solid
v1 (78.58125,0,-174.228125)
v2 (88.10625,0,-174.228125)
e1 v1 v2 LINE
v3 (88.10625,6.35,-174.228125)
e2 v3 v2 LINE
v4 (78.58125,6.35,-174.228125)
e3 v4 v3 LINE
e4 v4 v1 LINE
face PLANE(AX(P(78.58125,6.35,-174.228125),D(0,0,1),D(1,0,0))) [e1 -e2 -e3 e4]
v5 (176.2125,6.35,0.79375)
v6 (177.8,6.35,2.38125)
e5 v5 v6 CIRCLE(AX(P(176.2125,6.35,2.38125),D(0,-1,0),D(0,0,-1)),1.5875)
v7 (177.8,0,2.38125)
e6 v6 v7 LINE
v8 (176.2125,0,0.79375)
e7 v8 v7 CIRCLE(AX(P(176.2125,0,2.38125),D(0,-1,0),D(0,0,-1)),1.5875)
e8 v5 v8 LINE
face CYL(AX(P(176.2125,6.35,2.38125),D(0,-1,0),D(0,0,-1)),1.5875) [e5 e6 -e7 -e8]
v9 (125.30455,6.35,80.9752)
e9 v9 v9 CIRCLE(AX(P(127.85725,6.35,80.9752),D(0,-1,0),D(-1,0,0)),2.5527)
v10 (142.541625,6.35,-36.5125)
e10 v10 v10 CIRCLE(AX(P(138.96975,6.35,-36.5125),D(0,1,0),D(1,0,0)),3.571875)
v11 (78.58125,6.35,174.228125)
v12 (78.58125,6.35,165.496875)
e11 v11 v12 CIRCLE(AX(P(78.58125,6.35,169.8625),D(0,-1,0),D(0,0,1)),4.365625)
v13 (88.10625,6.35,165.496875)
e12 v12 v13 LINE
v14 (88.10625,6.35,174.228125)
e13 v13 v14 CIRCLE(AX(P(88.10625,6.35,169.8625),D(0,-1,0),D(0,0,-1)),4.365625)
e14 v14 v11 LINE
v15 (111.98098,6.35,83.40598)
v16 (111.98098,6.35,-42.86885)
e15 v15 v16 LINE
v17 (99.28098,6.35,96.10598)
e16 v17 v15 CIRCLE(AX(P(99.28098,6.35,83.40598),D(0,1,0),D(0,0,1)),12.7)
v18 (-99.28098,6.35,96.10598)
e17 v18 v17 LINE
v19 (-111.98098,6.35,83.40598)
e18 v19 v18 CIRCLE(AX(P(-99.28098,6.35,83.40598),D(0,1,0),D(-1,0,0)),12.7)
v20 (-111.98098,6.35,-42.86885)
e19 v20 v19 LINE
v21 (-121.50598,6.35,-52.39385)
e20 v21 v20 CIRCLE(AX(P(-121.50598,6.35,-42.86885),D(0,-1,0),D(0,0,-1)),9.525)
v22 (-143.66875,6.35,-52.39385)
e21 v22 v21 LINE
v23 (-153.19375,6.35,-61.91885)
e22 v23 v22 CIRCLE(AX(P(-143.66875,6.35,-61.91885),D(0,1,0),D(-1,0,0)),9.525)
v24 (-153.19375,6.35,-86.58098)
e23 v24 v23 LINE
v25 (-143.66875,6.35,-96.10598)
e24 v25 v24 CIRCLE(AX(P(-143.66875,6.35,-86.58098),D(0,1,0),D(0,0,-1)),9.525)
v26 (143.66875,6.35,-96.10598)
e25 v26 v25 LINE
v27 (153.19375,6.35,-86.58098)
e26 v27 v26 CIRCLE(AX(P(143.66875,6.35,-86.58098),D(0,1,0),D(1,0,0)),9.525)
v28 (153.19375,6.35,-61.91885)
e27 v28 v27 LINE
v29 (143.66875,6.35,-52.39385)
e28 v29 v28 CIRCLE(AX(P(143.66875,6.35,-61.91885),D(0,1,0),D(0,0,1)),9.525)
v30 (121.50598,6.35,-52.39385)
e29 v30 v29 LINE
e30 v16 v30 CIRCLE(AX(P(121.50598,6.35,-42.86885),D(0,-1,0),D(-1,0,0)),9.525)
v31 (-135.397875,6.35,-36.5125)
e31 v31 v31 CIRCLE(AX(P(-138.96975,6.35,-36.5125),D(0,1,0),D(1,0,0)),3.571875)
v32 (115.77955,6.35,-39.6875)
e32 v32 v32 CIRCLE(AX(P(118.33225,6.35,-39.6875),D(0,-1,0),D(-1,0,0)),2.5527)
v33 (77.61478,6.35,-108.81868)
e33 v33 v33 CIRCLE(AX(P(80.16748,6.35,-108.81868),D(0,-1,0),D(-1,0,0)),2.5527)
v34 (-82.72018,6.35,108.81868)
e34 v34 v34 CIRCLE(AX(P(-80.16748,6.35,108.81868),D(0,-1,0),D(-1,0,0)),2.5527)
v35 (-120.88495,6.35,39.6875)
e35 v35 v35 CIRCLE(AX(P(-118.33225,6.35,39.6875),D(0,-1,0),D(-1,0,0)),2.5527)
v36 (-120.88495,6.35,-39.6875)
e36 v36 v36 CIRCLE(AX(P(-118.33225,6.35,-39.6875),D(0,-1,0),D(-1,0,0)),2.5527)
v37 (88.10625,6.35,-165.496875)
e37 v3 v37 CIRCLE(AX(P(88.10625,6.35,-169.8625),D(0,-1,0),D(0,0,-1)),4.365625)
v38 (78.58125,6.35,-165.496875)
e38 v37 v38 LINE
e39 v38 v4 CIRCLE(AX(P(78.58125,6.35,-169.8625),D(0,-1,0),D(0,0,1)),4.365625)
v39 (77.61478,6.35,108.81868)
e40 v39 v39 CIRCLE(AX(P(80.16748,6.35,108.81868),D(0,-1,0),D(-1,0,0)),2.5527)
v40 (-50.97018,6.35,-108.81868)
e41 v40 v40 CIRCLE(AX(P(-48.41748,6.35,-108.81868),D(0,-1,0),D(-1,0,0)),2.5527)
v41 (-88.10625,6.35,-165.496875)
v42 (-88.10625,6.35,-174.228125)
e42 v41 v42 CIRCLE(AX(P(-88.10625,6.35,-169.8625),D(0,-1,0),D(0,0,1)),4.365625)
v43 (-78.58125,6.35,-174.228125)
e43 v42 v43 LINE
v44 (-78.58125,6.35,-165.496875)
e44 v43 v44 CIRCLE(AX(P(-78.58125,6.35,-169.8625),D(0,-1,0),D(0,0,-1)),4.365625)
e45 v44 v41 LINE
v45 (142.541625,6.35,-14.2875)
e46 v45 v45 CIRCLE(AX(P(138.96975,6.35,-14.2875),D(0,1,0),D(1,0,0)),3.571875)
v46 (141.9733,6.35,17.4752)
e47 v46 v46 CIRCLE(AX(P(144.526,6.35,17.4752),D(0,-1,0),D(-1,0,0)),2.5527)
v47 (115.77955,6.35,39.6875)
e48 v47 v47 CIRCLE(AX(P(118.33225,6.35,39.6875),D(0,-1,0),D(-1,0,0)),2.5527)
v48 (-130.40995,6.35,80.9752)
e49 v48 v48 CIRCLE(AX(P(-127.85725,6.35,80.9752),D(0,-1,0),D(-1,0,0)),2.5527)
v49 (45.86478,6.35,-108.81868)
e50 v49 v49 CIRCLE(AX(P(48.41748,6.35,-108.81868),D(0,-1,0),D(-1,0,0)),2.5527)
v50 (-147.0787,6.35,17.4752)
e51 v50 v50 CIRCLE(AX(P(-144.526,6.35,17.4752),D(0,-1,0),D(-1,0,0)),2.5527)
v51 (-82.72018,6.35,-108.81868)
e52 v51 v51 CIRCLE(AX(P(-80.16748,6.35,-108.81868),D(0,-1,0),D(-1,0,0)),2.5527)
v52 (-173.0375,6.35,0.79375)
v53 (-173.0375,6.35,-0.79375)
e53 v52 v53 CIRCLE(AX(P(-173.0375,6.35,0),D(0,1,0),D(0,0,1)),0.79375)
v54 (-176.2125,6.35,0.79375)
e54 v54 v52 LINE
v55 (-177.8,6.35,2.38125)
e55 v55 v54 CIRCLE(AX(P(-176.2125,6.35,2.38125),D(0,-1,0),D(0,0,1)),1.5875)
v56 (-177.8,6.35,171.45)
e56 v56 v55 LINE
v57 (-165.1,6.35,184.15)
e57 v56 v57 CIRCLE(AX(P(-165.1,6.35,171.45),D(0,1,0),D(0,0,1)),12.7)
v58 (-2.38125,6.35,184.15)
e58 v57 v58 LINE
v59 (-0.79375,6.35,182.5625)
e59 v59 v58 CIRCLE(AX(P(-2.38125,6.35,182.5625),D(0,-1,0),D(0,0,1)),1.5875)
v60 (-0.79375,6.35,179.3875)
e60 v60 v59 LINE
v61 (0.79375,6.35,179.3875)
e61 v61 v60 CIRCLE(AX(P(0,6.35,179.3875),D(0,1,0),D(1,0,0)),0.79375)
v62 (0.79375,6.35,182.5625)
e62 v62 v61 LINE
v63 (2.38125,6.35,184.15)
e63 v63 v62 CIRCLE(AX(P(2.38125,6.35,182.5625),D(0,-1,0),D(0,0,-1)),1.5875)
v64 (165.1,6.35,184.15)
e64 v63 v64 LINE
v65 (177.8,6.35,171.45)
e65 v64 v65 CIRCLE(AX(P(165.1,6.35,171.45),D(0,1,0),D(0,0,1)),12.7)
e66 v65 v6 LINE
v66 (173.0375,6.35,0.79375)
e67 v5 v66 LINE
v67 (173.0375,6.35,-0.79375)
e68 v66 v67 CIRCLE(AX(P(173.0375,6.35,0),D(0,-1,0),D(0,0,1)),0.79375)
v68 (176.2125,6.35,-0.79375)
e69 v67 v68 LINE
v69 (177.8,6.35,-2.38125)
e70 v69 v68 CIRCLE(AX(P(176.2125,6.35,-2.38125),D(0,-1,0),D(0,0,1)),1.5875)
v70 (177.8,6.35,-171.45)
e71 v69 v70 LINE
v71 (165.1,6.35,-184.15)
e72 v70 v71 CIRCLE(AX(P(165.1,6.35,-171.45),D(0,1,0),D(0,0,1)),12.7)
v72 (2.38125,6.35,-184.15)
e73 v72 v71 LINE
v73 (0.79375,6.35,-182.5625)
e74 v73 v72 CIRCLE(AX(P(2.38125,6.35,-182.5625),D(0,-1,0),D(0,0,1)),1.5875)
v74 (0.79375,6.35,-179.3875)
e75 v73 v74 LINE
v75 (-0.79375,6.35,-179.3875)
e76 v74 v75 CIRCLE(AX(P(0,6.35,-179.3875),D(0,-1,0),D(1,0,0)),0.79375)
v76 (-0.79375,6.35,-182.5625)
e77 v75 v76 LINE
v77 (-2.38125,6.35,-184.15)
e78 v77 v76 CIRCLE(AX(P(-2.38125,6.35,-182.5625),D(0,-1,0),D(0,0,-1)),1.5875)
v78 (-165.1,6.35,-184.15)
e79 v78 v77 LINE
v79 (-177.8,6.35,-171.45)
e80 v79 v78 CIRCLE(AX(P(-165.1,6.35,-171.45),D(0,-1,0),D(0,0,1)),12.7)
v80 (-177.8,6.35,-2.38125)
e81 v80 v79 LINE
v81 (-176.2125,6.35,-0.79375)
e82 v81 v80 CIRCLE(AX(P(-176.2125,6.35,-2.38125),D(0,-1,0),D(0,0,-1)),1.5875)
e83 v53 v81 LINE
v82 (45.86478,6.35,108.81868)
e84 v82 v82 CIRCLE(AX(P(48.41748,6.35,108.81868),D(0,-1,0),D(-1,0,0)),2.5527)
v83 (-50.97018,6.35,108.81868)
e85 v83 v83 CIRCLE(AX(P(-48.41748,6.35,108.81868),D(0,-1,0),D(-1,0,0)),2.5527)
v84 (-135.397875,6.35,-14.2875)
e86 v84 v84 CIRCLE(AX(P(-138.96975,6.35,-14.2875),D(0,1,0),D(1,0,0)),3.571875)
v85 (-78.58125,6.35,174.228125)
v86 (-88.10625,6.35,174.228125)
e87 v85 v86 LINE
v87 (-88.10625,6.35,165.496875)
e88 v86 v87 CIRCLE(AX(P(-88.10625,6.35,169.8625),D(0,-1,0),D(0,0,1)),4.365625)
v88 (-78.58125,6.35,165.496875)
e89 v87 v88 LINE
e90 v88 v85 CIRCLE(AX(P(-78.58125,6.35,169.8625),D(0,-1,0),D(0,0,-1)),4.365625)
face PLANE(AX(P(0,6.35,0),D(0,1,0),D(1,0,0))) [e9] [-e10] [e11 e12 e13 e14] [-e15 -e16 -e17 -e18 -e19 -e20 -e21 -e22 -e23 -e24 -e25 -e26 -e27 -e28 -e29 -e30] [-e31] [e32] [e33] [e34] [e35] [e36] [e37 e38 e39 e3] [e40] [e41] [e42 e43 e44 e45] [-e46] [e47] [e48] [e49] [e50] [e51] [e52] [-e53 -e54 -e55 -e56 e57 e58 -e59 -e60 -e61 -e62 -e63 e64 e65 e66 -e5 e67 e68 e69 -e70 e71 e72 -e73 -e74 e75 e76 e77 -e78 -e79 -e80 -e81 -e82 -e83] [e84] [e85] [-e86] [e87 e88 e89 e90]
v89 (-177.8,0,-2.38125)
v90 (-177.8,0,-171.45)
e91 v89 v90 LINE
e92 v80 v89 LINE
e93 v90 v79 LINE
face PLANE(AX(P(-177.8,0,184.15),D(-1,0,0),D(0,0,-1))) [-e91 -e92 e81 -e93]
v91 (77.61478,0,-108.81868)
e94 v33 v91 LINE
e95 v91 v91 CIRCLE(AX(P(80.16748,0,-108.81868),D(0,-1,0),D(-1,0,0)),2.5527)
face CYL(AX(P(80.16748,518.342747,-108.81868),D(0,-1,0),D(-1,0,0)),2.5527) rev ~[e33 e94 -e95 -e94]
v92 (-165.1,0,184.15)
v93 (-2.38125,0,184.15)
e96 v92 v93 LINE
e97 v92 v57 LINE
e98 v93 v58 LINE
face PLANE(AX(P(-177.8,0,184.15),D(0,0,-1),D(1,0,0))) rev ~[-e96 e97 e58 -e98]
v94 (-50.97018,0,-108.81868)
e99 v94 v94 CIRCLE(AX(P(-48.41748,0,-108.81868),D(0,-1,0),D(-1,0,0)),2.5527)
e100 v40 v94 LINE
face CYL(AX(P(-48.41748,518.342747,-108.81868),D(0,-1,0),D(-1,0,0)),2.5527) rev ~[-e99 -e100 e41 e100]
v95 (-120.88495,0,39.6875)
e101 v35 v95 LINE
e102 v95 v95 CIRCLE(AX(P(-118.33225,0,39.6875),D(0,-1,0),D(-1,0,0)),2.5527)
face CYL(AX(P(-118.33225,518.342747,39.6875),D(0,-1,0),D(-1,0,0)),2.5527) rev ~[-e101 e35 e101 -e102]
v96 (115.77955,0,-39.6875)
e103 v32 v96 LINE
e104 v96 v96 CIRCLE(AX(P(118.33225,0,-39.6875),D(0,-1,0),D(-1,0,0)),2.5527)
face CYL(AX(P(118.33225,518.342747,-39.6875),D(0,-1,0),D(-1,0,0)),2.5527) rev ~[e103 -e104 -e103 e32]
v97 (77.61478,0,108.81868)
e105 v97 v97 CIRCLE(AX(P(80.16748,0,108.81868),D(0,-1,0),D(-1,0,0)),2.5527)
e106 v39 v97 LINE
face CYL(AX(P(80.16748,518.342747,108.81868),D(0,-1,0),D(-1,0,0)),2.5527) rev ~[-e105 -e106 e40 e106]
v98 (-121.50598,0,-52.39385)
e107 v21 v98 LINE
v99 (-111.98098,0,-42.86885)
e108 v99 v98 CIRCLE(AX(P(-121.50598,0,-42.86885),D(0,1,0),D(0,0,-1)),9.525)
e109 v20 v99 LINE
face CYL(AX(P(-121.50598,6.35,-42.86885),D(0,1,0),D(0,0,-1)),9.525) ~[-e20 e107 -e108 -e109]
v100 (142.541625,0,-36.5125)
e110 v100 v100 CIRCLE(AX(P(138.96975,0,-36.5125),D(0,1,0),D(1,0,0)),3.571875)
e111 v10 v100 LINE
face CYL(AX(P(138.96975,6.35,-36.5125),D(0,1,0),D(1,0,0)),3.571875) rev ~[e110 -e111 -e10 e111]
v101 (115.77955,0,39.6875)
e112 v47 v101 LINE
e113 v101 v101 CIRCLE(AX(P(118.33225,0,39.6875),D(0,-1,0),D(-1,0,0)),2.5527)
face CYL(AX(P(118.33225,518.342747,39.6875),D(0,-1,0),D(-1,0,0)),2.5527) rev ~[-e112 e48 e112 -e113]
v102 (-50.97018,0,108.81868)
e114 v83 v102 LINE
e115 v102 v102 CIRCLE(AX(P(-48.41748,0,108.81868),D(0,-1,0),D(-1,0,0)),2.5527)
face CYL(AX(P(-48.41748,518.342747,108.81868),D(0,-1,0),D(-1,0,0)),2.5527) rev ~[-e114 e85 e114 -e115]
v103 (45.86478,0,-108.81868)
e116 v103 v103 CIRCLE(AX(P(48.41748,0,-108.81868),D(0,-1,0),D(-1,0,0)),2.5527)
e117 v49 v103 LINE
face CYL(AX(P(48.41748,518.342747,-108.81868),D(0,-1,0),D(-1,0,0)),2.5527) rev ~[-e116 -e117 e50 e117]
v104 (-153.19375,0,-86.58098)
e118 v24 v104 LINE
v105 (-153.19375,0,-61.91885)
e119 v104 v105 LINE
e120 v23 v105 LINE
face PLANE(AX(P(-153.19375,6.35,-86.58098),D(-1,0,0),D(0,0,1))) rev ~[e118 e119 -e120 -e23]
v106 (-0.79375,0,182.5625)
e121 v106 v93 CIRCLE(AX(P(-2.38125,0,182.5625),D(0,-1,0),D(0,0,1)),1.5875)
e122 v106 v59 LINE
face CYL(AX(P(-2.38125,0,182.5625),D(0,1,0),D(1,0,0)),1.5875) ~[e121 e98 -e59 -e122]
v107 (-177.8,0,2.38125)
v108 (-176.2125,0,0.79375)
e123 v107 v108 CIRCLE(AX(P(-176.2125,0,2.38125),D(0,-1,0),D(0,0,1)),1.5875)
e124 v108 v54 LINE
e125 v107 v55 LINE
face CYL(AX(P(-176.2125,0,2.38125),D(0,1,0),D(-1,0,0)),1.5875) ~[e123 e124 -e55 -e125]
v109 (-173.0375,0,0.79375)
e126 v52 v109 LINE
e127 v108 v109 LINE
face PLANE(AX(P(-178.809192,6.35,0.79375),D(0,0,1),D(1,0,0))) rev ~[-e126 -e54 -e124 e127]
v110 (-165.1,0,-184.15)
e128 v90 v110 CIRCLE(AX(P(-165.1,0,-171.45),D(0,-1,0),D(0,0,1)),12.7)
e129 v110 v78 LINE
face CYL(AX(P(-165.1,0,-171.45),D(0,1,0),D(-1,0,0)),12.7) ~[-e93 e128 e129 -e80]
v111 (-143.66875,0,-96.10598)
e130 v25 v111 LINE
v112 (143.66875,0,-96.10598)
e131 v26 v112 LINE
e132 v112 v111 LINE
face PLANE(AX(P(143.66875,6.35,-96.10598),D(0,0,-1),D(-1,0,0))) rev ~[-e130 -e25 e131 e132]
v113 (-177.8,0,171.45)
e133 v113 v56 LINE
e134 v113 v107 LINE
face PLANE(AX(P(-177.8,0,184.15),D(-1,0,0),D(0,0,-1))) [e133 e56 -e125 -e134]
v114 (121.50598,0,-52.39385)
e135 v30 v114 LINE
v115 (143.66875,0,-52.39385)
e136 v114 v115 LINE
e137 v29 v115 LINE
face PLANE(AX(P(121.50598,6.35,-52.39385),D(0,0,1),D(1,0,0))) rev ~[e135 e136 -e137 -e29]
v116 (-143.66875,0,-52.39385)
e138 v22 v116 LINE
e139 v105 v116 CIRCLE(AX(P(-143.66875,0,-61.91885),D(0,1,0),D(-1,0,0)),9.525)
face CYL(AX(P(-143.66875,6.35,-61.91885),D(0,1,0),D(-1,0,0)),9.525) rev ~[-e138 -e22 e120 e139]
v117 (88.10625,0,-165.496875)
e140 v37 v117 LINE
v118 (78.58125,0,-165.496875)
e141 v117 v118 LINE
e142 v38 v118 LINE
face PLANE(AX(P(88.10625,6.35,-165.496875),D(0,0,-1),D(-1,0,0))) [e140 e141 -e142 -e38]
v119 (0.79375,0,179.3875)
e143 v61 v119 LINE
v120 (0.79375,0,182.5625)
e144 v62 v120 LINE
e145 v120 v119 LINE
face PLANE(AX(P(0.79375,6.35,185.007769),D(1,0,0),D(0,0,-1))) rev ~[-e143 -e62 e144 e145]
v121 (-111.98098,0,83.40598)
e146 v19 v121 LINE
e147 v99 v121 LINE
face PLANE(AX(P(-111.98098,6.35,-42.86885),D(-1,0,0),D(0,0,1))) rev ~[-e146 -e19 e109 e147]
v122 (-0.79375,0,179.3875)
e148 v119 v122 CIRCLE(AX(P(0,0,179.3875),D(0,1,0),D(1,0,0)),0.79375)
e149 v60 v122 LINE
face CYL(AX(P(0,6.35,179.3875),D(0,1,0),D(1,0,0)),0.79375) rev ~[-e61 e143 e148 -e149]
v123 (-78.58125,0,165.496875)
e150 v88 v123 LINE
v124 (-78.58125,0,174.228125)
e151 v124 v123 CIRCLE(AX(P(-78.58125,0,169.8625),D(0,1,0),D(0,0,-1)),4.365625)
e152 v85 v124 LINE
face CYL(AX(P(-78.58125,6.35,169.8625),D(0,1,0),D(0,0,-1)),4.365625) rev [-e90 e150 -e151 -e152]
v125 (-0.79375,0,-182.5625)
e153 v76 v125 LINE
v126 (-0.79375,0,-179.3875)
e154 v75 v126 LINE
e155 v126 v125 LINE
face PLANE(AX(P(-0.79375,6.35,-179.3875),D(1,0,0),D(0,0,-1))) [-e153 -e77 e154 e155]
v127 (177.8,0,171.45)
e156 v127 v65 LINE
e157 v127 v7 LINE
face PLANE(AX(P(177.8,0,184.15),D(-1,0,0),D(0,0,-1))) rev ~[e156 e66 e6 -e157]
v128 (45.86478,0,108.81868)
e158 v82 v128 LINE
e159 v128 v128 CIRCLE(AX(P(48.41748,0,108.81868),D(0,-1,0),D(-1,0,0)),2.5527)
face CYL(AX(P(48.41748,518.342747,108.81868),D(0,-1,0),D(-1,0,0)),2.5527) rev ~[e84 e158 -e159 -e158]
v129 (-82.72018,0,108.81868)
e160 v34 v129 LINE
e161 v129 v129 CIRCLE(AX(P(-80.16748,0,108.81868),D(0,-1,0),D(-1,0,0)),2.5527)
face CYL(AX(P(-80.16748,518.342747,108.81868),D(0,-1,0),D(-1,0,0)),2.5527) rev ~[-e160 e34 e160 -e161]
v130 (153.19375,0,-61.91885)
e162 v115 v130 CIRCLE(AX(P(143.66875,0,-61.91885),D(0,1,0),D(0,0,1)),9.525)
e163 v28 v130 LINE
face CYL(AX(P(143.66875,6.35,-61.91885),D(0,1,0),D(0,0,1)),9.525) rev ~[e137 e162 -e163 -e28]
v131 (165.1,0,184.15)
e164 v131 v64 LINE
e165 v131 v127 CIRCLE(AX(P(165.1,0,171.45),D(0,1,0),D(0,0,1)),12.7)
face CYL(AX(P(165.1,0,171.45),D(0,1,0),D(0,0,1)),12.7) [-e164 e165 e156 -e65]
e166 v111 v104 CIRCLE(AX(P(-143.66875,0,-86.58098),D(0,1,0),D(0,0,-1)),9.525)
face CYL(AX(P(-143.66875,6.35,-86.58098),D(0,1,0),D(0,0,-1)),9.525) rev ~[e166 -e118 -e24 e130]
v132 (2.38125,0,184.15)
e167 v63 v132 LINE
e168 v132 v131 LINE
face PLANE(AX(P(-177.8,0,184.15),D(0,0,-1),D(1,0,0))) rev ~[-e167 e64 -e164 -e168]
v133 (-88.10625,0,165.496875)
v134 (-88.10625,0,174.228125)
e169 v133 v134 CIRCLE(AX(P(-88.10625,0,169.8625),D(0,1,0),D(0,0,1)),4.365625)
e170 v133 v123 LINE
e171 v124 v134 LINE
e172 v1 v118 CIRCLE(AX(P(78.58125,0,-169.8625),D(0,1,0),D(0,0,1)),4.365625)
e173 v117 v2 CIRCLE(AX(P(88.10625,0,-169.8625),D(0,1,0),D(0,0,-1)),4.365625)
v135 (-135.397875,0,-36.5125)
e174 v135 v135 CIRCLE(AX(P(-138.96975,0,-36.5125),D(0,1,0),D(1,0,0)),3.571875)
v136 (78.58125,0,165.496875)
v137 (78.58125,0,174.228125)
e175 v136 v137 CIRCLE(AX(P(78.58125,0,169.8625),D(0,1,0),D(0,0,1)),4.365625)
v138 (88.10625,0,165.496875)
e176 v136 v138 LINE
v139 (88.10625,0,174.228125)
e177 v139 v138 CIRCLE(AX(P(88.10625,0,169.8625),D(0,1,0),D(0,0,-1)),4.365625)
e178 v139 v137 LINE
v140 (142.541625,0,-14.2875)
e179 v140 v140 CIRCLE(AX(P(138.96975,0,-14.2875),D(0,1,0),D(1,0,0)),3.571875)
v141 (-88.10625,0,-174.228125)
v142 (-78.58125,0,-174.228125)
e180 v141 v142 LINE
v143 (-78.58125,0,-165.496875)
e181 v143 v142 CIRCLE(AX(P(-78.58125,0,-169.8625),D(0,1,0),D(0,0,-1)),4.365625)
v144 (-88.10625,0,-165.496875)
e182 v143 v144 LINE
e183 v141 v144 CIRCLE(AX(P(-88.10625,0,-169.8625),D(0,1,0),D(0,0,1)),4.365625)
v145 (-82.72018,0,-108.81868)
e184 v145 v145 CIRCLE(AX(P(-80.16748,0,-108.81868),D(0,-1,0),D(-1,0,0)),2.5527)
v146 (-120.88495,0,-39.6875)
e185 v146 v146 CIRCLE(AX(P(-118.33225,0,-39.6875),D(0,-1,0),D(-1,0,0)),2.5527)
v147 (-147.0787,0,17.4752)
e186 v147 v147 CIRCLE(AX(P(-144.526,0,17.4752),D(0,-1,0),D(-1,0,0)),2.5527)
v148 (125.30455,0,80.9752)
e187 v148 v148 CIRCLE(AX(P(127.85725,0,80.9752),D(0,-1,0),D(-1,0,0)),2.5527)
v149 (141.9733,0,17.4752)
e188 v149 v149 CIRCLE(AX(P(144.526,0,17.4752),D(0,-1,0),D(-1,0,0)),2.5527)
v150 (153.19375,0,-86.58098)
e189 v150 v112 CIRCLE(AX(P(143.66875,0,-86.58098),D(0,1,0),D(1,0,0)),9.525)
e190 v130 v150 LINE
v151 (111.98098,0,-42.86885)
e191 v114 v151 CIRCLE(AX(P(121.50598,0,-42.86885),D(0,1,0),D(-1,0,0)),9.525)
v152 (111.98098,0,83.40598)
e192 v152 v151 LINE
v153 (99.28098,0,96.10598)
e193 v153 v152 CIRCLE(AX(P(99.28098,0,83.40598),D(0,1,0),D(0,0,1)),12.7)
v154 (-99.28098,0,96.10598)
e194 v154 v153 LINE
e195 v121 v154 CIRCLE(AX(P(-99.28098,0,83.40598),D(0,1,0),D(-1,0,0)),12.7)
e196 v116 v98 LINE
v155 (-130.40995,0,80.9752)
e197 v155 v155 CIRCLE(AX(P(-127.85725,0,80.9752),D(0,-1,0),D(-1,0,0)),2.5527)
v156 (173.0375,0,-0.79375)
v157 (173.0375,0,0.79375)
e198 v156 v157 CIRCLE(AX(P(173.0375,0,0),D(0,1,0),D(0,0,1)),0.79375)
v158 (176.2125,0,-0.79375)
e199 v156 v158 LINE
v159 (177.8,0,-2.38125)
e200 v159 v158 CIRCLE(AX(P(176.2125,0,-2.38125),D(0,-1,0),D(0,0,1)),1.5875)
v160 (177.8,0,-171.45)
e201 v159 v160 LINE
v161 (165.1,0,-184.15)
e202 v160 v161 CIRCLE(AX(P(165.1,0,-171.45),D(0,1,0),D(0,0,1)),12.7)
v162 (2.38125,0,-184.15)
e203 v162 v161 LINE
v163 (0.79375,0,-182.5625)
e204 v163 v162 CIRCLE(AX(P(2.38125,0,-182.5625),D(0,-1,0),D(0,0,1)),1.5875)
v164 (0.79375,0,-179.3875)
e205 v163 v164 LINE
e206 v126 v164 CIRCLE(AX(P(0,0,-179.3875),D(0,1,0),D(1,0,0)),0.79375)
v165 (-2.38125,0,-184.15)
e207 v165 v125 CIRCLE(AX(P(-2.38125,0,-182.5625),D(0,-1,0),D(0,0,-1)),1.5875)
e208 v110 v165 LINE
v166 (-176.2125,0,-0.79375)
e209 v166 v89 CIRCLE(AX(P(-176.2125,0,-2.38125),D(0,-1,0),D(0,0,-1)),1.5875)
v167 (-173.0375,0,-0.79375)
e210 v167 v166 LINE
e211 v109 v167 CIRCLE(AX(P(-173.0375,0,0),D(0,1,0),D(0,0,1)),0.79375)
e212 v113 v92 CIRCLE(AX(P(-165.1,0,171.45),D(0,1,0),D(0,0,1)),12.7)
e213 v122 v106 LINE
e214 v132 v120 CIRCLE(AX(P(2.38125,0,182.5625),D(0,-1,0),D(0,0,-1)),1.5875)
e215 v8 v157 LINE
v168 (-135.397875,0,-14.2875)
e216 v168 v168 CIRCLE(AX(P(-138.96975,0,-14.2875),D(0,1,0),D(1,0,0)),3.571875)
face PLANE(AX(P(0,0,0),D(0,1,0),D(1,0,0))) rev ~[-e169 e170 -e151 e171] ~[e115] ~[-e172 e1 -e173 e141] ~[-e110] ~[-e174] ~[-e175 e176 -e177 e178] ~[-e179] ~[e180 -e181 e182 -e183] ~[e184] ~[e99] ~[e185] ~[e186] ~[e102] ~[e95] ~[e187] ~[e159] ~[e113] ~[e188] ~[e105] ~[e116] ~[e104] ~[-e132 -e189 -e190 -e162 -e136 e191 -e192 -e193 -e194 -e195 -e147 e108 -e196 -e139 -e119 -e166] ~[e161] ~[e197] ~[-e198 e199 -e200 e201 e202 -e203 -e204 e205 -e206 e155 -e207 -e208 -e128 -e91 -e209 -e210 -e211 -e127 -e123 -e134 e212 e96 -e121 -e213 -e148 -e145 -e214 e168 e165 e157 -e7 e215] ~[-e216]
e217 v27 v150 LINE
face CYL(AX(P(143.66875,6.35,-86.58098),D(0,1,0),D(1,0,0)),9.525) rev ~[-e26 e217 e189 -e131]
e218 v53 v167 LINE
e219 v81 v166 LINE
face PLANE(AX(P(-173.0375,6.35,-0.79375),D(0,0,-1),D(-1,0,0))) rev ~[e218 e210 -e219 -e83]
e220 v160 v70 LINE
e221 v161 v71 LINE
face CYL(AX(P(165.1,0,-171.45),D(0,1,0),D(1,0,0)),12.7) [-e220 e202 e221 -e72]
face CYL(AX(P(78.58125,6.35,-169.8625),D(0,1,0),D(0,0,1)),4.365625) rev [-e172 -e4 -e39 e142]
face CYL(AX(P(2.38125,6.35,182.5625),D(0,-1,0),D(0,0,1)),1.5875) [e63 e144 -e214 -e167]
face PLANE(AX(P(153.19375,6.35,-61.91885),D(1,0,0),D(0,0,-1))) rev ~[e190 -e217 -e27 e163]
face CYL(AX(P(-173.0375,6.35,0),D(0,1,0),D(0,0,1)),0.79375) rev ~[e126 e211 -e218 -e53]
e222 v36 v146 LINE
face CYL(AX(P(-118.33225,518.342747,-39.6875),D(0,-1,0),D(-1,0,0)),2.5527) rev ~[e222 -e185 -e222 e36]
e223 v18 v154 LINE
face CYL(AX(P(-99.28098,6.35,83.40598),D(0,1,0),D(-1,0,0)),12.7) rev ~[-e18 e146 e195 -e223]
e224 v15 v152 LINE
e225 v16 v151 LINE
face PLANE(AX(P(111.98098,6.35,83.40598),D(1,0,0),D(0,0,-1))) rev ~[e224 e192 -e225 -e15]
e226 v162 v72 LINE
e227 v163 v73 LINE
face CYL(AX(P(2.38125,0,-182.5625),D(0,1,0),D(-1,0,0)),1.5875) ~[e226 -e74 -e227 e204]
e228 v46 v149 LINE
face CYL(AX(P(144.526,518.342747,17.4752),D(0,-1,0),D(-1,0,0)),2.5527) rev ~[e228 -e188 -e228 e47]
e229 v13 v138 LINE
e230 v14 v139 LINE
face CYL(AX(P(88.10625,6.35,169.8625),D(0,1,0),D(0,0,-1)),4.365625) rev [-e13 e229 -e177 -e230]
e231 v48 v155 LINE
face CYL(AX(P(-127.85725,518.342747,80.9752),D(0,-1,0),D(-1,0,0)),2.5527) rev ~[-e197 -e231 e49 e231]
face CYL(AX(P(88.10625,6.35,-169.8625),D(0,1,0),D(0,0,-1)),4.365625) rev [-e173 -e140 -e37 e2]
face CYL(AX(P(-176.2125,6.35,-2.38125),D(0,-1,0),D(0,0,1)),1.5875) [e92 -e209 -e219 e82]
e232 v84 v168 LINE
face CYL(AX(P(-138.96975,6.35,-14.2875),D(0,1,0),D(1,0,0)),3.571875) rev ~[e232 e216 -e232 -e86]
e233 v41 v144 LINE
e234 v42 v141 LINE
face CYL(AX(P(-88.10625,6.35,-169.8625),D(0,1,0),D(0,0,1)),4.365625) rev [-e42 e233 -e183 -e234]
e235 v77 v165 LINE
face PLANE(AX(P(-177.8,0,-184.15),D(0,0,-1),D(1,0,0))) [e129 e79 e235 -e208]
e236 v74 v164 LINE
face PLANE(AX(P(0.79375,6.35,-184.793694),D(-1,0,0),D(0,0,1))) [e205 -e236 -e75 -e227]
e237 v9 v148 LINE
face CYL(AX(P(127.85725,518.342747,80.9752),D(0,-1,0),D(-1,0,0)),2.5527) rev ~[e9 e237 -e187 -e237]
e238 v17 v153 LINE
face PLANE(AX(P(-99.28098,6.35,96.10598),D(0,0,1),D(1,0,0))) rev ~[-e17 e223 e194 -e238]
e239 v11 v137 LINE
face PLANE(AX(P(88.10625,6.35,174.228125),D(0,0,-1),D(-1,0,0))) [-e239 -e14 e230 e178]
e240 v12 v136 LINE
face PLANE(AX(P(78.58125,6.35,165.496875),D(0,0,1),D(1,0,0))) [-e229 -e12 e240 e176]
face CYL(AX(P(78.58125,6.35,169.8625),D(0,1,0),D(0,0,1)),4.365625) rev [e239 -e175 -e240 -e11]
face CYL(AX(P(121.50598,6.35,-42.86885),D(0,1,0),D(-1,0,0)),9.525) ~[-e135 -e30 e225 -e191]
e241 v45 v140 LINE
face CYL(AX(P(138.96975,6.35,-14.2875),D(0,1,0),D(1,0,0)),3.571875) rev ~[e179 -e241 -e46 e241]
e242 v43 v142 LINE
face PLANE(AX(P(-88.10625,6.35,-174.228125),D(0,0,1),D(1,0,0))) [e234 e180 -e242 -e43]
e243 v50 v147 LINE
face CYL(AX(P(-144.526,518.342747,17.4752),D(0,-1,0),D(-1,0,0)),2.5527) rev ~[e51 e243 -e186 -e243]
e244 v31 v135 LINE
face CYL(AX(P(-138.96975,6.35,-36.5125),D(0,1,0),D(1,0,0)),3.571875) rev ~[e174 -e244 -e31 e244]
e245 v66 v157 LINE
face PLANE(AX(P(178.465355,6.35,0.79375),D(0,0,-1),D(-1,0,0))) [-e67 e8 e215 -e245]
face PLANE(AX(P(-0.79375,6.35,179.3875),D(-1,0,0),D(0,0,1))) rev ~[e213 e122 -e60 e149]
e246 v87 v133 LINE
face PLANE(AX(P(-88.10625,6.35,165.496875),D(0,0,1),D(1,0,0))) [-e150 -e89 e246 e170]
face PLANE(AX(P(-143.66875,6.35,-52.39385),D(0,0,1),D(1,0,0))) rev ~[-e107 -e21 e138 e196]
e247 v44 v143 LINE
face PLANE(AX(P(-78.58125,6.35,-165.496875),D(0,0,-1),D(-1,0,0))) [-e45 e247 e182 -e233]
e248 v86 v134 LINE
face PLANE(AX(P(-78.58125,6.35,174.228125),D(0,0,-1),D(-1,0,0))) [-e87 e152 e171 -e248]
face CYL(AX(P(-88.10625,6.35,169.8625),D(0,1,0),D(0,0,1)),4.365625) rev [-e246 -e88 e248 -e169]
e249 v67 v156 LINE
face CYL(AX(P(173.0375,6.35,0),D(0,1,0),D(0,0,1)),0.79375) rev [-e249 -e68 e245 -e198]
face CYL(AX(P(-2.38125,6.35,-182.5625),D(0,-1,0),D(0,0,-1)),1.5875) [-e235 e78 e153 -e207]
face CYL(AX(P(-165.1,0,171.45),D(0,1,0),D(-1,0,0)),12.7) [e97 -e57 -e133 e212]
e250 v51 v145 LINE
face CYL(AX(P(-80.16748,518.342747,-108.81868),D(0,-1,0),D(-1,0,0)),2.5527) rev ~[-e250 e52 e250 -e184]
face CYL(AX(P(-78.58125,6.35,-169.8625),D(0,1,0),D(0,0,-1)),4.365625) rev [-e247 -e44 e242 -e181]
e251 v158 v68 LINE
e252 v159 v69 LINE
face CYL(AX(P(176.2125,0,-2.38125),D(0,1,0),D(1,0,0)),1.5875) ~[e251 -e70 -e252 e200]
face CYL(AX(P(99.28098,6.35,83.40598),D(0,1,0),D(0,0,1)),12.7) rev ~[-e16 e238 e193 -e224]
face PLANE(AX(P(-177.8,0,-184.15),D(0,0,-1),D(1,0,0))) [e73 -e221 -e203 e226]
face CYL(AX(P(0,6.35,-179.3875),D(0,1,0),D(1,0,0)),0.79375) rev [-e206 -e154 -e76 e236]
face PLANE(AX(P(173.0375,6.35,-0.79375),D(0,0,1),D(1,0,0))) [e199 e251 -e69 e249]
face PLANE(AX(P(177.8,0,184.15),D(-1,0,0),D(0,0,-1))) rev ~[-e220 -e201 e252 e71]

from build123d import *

# Parameters (mm, degrees)
SKETCH2_W               = 355.6
SKETCH2_H               = 368.3
BOSS_EXTRUDE1_DEPTH     = 6.35
FILLET1_R               = 12.7
MOUNTING_HOLES_DEPTH    = 7.35
PLUNGER_CUTOUT_DEPTH    = 7.35
F_1_4_20_TAPPED_HOLE2_D = 5.1054
CENTERING_MARKERS_DEPTH = 7.35
FILLET2_R               = 1.5875
F_1_4_20_TAPPED_HOLE5_D = 5.1054
SKETCH17_R              = 3.571875
CUT_EXTRUDE1_DEPTH      = 7.35


with BuildPart() as part:
    # Sketch2 → Boss-Extrude1 (new body)
    with BuildSketch(Plane(origin=(0, 0, 0), x_dir=(1, 0, 0), z_dir=(0, 1, 0))):
        Rectangle(SKETCH2_W, SKETCH2_H)
    extrude(amount=BOSS_EXTRUDE1_DEPTH)

    # Fillet1
    fillet1_edges = [part.edges().sort_by_distance(p)[0] for p in [
        (177.8, 3.175, 184.15),
        (-177.8, 3.175, 184.15),
        (-177.8, 3.175, -184.15),
        (177.8, 3.175, -184.15),
    ]]
    fillet(fillet1_edges, radius=FILLET1_R)

    # Sketch3 → MOUNTING HOLES (cut, through all)
    with BuildSketch(Plane(origin=(0, 6.35, 0), x_dir=(1, 0, 0), z_dir=(0, 1, 0))):
        with BuildLine():
            Line((-88.10625, 174.228125), (-78.58125, 174.228125))
            ThreePointArc((-78.58125, 174.228125), (-74.215625, 169.8625), (-78.58125, 165.496875))
            Line((-78.58125, 165.496875), (-88.10625, 165.496875))
            ThreePointArc((-88.10625, 165.496875), (-92.471875, 169.8625), (-88.10625, 174.228125))
        make_face()
        with BuildLine():
            Line((88.10625, 165.496875), (78.58125, 165.496875))
            ThreePointArc((78.58125, 165.496875), (74.215625, 169.8625), (78.58125, 174.228125))
            Line((78.58125, 174.228125), (88.10625, 174.228125))
            ThreePointArc((88.10625, 174.228125), (92.471875, 169.8625), (88.10625, 165.496875))
        make_face()
        with BuildLine():
            Line((-88.10625, -165.496875), (-78.58125, -165.496875))
            ThreePointArc((-78.58125, -165.496875), (-74.215625, -169.8625), (-78.58125, -174.228125))
            Line((-78.58125, -174.228125), (-88.10625, -174.228125))
            ThreePointArc((-88.10625, -174.228125), (-92.471875, -169.8625), (-88.10625, -165.496875))
        make_face()
        with BuildLine():
            Line((78.58125, -165.496875), (88.10625, -165.496875))
            ThreePointArc((88.10625, -165.496875), (92.471875, -169.8625), (88.10625, -174.228125))
            Line((88.10625, -174.228125), (78.58125, -174.228125))
            ThreePointArc((78.58125, -174.228125), (74.215625, -169.8625), (78.58125, -165.496875))
        make_face()
    extrude(amount=-MOUNTING_HOLES_DEPTH, mode=Mode.SUBTRACT)

    # Sketch4 → PLUNGER CUTOUT (cut, through all)
    with BuildSketch(Plane(origin=(0, 6.35, 0), x_dir=(1, 0, 0), z_dir=(0, 1, 0))):
        with BuildLine():
            Line((-99.28098, -96.10598), (99.28098, -96.10598))
            ThreePointArc((99.28098, -96.10598), (108.261236121, -92.386236121), (111.98098, -83.40598))
            Line((111.98098, -83.40598), (111.98098, 42.86885))
            ThreePointArc((111.98098, 42.86885), (114.770787909, 49.604042091), (121.50598, 52.39385))
            Line((121.50598, 52.39385), (143.66875, 52.39385))
            ThreePointArc((143.66875, 52.39385), (150.403942091, 55.183657909), (153.19375, 61.91885))
            Line((153.19375, 61.91885), (153.19375, 86.58098))
            ThreePointArc((153.19375, 86.58098), (150.403942091, 93.316172091), (143.66875, 96.10598))
            Line((143.66875, 96.10598), (-143.66875, 96.10598))
            ThreePointArc((-143.66875, 96.10598), (-150.403942091, 93.316172091), (-153.19375, 86.58098))
            Line((-153.19375, 86.58098), (-153.19375, 61.91885))
            ThreePointArc((-153.19375, 61.91885), (-150.403942091, 55.183657909), (-143.66875, 52.39385))
            Line((-143.66875, 52.39385), (-121.50598, 52.39385))
            ThreePointArc((-121.50598, 52.39385), (-114.770787909, 49.604042091), (-111.98098, 42.86885))
            Line((-111.98098, 42.86885), (-111.98098, -83.40598))
            ThreePointArc((-111.98098, -83.40598), (-108.261236121, -92.386236121), (-99.28098, -96.10598))
        make_face()
    extrude(amount=-PLUNGER_CUTOUT_DEPTH, mode=Mode.SUBTRACT)

    # 1/4-20 Tapped Hole2 (through all)
    with Locations(Plane(origin=(0, 6.35, 0), x_dir=(1, 0, 0), z_dir=(0, 1, 0))):
        with Locations((-80.16748, -108.81868), (-48.41748, -108.81868), (48.41748, -108.81868), (80.16748, -108.81868), (80.16748, 108.81868), (48.41748, 108.81868), (-48.41748, 108.81868), (-80.16748, 108.81868)):
            Hole(F_1_4_20_TAPPED_HOLE2_D / 2)

    # Sketch10 → CENTERING MARKERS (cut, through all)
    with BuildSketch(Plane(origin=(0, 6.35, 0), x_dir=(1, 0, 0), z_dir=(0, 1, 0))):
        with BuildLine():
            Line((-0.79375, -179.3875), (-0.79375, -185.007769042))
            Line((-0.79375, -185.007769042), (0.79375, -185.007769042))
            Line((0.79375, -185.007769042), (0.79375, -179.3875))
            ThreePointArc((0.79375, -179.3875), (0, -178.59375), (-0.79375, -179.3875))
        make_face()
        with BuildLine():
            Line((-173.0375, 0.79375), (-178.809191543, 0.79375))
            Line((-178.809191543, 0.79375), (-178.809191543, -0.79375))
            Line((-178.809191543, -0.79375), (-173.0375, -0.79375))
            ThreePointArc((-173.0375, -0.79375), (-172.24375, 0), (-173.0375, 0.79375))
        make_face()
        with BuildLine():
            Line((173.0375, 0.79375), (178.465354943, 0.79375))
            Line((178.465354943, 0.79375), (178.465354943, -0.79375))
            Line((178.465354943, -0.79375), (173.0375, -0.79375))
            ThreePointArc((173.0375, -0.79375), (172.24375, 0), (173.0375, 0.79375))
        make_face()
        with BuildLine():
            Line((-0.79375, 179.3875), (-0.79375, 184.793694415))
            Line((-0.79375, 184.793694415), (0.79375, 184.793694415))
            Line((0.79375, 184.793694415), (0.79375, 179.3875))
            ThreePointArc((0.79375, 179.3875), (0, 178.59375), (-0.79375, 179.3875))
        make_face()
    extrude(amount=-CENTERING_MARKERS_DEPTH, mode=Mode.SUBTRACT)

    # Fillet2
    fillet2_edges = [part.edges().sort_by_distance(p)[0] for p in [
        (177.8, 3.175, -0.79375),
        (177.8, 3.175, 0.79375),
        (0.79375, 3.175, 184.15),
        (-0.79375, 3.175, 184.15),
        (-0.79375, 3.175, -184.15),
        (0.79375, 3.175, -184.15),
        (-177.8, 3.175, 0.79375),
        (-177.8, 3.175, -0.79375),
    ]]
    fillet(fillet2_edges, radius=FILLET2_R)

    # 1/4-20 Tapped Hole5 (through all)
    with Locations(Plane(origin=(0, 6.35, 0), x_dir=(1, 0, 0), z_dir=(0, 1, 0))):
        with Locations((-144.526, -17.4752), (-127.85725, -80.9752), (-118.33225, -39.6875), (-118.33225, 39.6875), (118.33225, 39.6875), (118.33225, -39.6875), (144.526, -17.4752), (127.85725, -80.9752)):
            Hole(F_1_4_20_TAPPED_HOLE5_D / 2)

    # Sketch17 → Cut-Extrude1 (cut, through all)
    with BuildSketch(Plane(origin=(0, 6.35, 0), x_dir=(1, 0, 0), z_dir=(0, 1, 0))):
        with Locations((-138.96975, 36.5125)):
            Circle(SKETCH17_R)
        with Locations((-138.96975, 14.2875)):
            Circle(SKETCH17_R)
        with Locations((138.96975, 14.2875)):
            Circle(SKETCH17_R)
        with Locations((138.96975, 36.5125)):
            Circle(SKETCH17_R)
    extrude(amount=-CUT_EXTRUDE1_DEPTH, mode=Mode.SUBTRACT)


solid = part.part
